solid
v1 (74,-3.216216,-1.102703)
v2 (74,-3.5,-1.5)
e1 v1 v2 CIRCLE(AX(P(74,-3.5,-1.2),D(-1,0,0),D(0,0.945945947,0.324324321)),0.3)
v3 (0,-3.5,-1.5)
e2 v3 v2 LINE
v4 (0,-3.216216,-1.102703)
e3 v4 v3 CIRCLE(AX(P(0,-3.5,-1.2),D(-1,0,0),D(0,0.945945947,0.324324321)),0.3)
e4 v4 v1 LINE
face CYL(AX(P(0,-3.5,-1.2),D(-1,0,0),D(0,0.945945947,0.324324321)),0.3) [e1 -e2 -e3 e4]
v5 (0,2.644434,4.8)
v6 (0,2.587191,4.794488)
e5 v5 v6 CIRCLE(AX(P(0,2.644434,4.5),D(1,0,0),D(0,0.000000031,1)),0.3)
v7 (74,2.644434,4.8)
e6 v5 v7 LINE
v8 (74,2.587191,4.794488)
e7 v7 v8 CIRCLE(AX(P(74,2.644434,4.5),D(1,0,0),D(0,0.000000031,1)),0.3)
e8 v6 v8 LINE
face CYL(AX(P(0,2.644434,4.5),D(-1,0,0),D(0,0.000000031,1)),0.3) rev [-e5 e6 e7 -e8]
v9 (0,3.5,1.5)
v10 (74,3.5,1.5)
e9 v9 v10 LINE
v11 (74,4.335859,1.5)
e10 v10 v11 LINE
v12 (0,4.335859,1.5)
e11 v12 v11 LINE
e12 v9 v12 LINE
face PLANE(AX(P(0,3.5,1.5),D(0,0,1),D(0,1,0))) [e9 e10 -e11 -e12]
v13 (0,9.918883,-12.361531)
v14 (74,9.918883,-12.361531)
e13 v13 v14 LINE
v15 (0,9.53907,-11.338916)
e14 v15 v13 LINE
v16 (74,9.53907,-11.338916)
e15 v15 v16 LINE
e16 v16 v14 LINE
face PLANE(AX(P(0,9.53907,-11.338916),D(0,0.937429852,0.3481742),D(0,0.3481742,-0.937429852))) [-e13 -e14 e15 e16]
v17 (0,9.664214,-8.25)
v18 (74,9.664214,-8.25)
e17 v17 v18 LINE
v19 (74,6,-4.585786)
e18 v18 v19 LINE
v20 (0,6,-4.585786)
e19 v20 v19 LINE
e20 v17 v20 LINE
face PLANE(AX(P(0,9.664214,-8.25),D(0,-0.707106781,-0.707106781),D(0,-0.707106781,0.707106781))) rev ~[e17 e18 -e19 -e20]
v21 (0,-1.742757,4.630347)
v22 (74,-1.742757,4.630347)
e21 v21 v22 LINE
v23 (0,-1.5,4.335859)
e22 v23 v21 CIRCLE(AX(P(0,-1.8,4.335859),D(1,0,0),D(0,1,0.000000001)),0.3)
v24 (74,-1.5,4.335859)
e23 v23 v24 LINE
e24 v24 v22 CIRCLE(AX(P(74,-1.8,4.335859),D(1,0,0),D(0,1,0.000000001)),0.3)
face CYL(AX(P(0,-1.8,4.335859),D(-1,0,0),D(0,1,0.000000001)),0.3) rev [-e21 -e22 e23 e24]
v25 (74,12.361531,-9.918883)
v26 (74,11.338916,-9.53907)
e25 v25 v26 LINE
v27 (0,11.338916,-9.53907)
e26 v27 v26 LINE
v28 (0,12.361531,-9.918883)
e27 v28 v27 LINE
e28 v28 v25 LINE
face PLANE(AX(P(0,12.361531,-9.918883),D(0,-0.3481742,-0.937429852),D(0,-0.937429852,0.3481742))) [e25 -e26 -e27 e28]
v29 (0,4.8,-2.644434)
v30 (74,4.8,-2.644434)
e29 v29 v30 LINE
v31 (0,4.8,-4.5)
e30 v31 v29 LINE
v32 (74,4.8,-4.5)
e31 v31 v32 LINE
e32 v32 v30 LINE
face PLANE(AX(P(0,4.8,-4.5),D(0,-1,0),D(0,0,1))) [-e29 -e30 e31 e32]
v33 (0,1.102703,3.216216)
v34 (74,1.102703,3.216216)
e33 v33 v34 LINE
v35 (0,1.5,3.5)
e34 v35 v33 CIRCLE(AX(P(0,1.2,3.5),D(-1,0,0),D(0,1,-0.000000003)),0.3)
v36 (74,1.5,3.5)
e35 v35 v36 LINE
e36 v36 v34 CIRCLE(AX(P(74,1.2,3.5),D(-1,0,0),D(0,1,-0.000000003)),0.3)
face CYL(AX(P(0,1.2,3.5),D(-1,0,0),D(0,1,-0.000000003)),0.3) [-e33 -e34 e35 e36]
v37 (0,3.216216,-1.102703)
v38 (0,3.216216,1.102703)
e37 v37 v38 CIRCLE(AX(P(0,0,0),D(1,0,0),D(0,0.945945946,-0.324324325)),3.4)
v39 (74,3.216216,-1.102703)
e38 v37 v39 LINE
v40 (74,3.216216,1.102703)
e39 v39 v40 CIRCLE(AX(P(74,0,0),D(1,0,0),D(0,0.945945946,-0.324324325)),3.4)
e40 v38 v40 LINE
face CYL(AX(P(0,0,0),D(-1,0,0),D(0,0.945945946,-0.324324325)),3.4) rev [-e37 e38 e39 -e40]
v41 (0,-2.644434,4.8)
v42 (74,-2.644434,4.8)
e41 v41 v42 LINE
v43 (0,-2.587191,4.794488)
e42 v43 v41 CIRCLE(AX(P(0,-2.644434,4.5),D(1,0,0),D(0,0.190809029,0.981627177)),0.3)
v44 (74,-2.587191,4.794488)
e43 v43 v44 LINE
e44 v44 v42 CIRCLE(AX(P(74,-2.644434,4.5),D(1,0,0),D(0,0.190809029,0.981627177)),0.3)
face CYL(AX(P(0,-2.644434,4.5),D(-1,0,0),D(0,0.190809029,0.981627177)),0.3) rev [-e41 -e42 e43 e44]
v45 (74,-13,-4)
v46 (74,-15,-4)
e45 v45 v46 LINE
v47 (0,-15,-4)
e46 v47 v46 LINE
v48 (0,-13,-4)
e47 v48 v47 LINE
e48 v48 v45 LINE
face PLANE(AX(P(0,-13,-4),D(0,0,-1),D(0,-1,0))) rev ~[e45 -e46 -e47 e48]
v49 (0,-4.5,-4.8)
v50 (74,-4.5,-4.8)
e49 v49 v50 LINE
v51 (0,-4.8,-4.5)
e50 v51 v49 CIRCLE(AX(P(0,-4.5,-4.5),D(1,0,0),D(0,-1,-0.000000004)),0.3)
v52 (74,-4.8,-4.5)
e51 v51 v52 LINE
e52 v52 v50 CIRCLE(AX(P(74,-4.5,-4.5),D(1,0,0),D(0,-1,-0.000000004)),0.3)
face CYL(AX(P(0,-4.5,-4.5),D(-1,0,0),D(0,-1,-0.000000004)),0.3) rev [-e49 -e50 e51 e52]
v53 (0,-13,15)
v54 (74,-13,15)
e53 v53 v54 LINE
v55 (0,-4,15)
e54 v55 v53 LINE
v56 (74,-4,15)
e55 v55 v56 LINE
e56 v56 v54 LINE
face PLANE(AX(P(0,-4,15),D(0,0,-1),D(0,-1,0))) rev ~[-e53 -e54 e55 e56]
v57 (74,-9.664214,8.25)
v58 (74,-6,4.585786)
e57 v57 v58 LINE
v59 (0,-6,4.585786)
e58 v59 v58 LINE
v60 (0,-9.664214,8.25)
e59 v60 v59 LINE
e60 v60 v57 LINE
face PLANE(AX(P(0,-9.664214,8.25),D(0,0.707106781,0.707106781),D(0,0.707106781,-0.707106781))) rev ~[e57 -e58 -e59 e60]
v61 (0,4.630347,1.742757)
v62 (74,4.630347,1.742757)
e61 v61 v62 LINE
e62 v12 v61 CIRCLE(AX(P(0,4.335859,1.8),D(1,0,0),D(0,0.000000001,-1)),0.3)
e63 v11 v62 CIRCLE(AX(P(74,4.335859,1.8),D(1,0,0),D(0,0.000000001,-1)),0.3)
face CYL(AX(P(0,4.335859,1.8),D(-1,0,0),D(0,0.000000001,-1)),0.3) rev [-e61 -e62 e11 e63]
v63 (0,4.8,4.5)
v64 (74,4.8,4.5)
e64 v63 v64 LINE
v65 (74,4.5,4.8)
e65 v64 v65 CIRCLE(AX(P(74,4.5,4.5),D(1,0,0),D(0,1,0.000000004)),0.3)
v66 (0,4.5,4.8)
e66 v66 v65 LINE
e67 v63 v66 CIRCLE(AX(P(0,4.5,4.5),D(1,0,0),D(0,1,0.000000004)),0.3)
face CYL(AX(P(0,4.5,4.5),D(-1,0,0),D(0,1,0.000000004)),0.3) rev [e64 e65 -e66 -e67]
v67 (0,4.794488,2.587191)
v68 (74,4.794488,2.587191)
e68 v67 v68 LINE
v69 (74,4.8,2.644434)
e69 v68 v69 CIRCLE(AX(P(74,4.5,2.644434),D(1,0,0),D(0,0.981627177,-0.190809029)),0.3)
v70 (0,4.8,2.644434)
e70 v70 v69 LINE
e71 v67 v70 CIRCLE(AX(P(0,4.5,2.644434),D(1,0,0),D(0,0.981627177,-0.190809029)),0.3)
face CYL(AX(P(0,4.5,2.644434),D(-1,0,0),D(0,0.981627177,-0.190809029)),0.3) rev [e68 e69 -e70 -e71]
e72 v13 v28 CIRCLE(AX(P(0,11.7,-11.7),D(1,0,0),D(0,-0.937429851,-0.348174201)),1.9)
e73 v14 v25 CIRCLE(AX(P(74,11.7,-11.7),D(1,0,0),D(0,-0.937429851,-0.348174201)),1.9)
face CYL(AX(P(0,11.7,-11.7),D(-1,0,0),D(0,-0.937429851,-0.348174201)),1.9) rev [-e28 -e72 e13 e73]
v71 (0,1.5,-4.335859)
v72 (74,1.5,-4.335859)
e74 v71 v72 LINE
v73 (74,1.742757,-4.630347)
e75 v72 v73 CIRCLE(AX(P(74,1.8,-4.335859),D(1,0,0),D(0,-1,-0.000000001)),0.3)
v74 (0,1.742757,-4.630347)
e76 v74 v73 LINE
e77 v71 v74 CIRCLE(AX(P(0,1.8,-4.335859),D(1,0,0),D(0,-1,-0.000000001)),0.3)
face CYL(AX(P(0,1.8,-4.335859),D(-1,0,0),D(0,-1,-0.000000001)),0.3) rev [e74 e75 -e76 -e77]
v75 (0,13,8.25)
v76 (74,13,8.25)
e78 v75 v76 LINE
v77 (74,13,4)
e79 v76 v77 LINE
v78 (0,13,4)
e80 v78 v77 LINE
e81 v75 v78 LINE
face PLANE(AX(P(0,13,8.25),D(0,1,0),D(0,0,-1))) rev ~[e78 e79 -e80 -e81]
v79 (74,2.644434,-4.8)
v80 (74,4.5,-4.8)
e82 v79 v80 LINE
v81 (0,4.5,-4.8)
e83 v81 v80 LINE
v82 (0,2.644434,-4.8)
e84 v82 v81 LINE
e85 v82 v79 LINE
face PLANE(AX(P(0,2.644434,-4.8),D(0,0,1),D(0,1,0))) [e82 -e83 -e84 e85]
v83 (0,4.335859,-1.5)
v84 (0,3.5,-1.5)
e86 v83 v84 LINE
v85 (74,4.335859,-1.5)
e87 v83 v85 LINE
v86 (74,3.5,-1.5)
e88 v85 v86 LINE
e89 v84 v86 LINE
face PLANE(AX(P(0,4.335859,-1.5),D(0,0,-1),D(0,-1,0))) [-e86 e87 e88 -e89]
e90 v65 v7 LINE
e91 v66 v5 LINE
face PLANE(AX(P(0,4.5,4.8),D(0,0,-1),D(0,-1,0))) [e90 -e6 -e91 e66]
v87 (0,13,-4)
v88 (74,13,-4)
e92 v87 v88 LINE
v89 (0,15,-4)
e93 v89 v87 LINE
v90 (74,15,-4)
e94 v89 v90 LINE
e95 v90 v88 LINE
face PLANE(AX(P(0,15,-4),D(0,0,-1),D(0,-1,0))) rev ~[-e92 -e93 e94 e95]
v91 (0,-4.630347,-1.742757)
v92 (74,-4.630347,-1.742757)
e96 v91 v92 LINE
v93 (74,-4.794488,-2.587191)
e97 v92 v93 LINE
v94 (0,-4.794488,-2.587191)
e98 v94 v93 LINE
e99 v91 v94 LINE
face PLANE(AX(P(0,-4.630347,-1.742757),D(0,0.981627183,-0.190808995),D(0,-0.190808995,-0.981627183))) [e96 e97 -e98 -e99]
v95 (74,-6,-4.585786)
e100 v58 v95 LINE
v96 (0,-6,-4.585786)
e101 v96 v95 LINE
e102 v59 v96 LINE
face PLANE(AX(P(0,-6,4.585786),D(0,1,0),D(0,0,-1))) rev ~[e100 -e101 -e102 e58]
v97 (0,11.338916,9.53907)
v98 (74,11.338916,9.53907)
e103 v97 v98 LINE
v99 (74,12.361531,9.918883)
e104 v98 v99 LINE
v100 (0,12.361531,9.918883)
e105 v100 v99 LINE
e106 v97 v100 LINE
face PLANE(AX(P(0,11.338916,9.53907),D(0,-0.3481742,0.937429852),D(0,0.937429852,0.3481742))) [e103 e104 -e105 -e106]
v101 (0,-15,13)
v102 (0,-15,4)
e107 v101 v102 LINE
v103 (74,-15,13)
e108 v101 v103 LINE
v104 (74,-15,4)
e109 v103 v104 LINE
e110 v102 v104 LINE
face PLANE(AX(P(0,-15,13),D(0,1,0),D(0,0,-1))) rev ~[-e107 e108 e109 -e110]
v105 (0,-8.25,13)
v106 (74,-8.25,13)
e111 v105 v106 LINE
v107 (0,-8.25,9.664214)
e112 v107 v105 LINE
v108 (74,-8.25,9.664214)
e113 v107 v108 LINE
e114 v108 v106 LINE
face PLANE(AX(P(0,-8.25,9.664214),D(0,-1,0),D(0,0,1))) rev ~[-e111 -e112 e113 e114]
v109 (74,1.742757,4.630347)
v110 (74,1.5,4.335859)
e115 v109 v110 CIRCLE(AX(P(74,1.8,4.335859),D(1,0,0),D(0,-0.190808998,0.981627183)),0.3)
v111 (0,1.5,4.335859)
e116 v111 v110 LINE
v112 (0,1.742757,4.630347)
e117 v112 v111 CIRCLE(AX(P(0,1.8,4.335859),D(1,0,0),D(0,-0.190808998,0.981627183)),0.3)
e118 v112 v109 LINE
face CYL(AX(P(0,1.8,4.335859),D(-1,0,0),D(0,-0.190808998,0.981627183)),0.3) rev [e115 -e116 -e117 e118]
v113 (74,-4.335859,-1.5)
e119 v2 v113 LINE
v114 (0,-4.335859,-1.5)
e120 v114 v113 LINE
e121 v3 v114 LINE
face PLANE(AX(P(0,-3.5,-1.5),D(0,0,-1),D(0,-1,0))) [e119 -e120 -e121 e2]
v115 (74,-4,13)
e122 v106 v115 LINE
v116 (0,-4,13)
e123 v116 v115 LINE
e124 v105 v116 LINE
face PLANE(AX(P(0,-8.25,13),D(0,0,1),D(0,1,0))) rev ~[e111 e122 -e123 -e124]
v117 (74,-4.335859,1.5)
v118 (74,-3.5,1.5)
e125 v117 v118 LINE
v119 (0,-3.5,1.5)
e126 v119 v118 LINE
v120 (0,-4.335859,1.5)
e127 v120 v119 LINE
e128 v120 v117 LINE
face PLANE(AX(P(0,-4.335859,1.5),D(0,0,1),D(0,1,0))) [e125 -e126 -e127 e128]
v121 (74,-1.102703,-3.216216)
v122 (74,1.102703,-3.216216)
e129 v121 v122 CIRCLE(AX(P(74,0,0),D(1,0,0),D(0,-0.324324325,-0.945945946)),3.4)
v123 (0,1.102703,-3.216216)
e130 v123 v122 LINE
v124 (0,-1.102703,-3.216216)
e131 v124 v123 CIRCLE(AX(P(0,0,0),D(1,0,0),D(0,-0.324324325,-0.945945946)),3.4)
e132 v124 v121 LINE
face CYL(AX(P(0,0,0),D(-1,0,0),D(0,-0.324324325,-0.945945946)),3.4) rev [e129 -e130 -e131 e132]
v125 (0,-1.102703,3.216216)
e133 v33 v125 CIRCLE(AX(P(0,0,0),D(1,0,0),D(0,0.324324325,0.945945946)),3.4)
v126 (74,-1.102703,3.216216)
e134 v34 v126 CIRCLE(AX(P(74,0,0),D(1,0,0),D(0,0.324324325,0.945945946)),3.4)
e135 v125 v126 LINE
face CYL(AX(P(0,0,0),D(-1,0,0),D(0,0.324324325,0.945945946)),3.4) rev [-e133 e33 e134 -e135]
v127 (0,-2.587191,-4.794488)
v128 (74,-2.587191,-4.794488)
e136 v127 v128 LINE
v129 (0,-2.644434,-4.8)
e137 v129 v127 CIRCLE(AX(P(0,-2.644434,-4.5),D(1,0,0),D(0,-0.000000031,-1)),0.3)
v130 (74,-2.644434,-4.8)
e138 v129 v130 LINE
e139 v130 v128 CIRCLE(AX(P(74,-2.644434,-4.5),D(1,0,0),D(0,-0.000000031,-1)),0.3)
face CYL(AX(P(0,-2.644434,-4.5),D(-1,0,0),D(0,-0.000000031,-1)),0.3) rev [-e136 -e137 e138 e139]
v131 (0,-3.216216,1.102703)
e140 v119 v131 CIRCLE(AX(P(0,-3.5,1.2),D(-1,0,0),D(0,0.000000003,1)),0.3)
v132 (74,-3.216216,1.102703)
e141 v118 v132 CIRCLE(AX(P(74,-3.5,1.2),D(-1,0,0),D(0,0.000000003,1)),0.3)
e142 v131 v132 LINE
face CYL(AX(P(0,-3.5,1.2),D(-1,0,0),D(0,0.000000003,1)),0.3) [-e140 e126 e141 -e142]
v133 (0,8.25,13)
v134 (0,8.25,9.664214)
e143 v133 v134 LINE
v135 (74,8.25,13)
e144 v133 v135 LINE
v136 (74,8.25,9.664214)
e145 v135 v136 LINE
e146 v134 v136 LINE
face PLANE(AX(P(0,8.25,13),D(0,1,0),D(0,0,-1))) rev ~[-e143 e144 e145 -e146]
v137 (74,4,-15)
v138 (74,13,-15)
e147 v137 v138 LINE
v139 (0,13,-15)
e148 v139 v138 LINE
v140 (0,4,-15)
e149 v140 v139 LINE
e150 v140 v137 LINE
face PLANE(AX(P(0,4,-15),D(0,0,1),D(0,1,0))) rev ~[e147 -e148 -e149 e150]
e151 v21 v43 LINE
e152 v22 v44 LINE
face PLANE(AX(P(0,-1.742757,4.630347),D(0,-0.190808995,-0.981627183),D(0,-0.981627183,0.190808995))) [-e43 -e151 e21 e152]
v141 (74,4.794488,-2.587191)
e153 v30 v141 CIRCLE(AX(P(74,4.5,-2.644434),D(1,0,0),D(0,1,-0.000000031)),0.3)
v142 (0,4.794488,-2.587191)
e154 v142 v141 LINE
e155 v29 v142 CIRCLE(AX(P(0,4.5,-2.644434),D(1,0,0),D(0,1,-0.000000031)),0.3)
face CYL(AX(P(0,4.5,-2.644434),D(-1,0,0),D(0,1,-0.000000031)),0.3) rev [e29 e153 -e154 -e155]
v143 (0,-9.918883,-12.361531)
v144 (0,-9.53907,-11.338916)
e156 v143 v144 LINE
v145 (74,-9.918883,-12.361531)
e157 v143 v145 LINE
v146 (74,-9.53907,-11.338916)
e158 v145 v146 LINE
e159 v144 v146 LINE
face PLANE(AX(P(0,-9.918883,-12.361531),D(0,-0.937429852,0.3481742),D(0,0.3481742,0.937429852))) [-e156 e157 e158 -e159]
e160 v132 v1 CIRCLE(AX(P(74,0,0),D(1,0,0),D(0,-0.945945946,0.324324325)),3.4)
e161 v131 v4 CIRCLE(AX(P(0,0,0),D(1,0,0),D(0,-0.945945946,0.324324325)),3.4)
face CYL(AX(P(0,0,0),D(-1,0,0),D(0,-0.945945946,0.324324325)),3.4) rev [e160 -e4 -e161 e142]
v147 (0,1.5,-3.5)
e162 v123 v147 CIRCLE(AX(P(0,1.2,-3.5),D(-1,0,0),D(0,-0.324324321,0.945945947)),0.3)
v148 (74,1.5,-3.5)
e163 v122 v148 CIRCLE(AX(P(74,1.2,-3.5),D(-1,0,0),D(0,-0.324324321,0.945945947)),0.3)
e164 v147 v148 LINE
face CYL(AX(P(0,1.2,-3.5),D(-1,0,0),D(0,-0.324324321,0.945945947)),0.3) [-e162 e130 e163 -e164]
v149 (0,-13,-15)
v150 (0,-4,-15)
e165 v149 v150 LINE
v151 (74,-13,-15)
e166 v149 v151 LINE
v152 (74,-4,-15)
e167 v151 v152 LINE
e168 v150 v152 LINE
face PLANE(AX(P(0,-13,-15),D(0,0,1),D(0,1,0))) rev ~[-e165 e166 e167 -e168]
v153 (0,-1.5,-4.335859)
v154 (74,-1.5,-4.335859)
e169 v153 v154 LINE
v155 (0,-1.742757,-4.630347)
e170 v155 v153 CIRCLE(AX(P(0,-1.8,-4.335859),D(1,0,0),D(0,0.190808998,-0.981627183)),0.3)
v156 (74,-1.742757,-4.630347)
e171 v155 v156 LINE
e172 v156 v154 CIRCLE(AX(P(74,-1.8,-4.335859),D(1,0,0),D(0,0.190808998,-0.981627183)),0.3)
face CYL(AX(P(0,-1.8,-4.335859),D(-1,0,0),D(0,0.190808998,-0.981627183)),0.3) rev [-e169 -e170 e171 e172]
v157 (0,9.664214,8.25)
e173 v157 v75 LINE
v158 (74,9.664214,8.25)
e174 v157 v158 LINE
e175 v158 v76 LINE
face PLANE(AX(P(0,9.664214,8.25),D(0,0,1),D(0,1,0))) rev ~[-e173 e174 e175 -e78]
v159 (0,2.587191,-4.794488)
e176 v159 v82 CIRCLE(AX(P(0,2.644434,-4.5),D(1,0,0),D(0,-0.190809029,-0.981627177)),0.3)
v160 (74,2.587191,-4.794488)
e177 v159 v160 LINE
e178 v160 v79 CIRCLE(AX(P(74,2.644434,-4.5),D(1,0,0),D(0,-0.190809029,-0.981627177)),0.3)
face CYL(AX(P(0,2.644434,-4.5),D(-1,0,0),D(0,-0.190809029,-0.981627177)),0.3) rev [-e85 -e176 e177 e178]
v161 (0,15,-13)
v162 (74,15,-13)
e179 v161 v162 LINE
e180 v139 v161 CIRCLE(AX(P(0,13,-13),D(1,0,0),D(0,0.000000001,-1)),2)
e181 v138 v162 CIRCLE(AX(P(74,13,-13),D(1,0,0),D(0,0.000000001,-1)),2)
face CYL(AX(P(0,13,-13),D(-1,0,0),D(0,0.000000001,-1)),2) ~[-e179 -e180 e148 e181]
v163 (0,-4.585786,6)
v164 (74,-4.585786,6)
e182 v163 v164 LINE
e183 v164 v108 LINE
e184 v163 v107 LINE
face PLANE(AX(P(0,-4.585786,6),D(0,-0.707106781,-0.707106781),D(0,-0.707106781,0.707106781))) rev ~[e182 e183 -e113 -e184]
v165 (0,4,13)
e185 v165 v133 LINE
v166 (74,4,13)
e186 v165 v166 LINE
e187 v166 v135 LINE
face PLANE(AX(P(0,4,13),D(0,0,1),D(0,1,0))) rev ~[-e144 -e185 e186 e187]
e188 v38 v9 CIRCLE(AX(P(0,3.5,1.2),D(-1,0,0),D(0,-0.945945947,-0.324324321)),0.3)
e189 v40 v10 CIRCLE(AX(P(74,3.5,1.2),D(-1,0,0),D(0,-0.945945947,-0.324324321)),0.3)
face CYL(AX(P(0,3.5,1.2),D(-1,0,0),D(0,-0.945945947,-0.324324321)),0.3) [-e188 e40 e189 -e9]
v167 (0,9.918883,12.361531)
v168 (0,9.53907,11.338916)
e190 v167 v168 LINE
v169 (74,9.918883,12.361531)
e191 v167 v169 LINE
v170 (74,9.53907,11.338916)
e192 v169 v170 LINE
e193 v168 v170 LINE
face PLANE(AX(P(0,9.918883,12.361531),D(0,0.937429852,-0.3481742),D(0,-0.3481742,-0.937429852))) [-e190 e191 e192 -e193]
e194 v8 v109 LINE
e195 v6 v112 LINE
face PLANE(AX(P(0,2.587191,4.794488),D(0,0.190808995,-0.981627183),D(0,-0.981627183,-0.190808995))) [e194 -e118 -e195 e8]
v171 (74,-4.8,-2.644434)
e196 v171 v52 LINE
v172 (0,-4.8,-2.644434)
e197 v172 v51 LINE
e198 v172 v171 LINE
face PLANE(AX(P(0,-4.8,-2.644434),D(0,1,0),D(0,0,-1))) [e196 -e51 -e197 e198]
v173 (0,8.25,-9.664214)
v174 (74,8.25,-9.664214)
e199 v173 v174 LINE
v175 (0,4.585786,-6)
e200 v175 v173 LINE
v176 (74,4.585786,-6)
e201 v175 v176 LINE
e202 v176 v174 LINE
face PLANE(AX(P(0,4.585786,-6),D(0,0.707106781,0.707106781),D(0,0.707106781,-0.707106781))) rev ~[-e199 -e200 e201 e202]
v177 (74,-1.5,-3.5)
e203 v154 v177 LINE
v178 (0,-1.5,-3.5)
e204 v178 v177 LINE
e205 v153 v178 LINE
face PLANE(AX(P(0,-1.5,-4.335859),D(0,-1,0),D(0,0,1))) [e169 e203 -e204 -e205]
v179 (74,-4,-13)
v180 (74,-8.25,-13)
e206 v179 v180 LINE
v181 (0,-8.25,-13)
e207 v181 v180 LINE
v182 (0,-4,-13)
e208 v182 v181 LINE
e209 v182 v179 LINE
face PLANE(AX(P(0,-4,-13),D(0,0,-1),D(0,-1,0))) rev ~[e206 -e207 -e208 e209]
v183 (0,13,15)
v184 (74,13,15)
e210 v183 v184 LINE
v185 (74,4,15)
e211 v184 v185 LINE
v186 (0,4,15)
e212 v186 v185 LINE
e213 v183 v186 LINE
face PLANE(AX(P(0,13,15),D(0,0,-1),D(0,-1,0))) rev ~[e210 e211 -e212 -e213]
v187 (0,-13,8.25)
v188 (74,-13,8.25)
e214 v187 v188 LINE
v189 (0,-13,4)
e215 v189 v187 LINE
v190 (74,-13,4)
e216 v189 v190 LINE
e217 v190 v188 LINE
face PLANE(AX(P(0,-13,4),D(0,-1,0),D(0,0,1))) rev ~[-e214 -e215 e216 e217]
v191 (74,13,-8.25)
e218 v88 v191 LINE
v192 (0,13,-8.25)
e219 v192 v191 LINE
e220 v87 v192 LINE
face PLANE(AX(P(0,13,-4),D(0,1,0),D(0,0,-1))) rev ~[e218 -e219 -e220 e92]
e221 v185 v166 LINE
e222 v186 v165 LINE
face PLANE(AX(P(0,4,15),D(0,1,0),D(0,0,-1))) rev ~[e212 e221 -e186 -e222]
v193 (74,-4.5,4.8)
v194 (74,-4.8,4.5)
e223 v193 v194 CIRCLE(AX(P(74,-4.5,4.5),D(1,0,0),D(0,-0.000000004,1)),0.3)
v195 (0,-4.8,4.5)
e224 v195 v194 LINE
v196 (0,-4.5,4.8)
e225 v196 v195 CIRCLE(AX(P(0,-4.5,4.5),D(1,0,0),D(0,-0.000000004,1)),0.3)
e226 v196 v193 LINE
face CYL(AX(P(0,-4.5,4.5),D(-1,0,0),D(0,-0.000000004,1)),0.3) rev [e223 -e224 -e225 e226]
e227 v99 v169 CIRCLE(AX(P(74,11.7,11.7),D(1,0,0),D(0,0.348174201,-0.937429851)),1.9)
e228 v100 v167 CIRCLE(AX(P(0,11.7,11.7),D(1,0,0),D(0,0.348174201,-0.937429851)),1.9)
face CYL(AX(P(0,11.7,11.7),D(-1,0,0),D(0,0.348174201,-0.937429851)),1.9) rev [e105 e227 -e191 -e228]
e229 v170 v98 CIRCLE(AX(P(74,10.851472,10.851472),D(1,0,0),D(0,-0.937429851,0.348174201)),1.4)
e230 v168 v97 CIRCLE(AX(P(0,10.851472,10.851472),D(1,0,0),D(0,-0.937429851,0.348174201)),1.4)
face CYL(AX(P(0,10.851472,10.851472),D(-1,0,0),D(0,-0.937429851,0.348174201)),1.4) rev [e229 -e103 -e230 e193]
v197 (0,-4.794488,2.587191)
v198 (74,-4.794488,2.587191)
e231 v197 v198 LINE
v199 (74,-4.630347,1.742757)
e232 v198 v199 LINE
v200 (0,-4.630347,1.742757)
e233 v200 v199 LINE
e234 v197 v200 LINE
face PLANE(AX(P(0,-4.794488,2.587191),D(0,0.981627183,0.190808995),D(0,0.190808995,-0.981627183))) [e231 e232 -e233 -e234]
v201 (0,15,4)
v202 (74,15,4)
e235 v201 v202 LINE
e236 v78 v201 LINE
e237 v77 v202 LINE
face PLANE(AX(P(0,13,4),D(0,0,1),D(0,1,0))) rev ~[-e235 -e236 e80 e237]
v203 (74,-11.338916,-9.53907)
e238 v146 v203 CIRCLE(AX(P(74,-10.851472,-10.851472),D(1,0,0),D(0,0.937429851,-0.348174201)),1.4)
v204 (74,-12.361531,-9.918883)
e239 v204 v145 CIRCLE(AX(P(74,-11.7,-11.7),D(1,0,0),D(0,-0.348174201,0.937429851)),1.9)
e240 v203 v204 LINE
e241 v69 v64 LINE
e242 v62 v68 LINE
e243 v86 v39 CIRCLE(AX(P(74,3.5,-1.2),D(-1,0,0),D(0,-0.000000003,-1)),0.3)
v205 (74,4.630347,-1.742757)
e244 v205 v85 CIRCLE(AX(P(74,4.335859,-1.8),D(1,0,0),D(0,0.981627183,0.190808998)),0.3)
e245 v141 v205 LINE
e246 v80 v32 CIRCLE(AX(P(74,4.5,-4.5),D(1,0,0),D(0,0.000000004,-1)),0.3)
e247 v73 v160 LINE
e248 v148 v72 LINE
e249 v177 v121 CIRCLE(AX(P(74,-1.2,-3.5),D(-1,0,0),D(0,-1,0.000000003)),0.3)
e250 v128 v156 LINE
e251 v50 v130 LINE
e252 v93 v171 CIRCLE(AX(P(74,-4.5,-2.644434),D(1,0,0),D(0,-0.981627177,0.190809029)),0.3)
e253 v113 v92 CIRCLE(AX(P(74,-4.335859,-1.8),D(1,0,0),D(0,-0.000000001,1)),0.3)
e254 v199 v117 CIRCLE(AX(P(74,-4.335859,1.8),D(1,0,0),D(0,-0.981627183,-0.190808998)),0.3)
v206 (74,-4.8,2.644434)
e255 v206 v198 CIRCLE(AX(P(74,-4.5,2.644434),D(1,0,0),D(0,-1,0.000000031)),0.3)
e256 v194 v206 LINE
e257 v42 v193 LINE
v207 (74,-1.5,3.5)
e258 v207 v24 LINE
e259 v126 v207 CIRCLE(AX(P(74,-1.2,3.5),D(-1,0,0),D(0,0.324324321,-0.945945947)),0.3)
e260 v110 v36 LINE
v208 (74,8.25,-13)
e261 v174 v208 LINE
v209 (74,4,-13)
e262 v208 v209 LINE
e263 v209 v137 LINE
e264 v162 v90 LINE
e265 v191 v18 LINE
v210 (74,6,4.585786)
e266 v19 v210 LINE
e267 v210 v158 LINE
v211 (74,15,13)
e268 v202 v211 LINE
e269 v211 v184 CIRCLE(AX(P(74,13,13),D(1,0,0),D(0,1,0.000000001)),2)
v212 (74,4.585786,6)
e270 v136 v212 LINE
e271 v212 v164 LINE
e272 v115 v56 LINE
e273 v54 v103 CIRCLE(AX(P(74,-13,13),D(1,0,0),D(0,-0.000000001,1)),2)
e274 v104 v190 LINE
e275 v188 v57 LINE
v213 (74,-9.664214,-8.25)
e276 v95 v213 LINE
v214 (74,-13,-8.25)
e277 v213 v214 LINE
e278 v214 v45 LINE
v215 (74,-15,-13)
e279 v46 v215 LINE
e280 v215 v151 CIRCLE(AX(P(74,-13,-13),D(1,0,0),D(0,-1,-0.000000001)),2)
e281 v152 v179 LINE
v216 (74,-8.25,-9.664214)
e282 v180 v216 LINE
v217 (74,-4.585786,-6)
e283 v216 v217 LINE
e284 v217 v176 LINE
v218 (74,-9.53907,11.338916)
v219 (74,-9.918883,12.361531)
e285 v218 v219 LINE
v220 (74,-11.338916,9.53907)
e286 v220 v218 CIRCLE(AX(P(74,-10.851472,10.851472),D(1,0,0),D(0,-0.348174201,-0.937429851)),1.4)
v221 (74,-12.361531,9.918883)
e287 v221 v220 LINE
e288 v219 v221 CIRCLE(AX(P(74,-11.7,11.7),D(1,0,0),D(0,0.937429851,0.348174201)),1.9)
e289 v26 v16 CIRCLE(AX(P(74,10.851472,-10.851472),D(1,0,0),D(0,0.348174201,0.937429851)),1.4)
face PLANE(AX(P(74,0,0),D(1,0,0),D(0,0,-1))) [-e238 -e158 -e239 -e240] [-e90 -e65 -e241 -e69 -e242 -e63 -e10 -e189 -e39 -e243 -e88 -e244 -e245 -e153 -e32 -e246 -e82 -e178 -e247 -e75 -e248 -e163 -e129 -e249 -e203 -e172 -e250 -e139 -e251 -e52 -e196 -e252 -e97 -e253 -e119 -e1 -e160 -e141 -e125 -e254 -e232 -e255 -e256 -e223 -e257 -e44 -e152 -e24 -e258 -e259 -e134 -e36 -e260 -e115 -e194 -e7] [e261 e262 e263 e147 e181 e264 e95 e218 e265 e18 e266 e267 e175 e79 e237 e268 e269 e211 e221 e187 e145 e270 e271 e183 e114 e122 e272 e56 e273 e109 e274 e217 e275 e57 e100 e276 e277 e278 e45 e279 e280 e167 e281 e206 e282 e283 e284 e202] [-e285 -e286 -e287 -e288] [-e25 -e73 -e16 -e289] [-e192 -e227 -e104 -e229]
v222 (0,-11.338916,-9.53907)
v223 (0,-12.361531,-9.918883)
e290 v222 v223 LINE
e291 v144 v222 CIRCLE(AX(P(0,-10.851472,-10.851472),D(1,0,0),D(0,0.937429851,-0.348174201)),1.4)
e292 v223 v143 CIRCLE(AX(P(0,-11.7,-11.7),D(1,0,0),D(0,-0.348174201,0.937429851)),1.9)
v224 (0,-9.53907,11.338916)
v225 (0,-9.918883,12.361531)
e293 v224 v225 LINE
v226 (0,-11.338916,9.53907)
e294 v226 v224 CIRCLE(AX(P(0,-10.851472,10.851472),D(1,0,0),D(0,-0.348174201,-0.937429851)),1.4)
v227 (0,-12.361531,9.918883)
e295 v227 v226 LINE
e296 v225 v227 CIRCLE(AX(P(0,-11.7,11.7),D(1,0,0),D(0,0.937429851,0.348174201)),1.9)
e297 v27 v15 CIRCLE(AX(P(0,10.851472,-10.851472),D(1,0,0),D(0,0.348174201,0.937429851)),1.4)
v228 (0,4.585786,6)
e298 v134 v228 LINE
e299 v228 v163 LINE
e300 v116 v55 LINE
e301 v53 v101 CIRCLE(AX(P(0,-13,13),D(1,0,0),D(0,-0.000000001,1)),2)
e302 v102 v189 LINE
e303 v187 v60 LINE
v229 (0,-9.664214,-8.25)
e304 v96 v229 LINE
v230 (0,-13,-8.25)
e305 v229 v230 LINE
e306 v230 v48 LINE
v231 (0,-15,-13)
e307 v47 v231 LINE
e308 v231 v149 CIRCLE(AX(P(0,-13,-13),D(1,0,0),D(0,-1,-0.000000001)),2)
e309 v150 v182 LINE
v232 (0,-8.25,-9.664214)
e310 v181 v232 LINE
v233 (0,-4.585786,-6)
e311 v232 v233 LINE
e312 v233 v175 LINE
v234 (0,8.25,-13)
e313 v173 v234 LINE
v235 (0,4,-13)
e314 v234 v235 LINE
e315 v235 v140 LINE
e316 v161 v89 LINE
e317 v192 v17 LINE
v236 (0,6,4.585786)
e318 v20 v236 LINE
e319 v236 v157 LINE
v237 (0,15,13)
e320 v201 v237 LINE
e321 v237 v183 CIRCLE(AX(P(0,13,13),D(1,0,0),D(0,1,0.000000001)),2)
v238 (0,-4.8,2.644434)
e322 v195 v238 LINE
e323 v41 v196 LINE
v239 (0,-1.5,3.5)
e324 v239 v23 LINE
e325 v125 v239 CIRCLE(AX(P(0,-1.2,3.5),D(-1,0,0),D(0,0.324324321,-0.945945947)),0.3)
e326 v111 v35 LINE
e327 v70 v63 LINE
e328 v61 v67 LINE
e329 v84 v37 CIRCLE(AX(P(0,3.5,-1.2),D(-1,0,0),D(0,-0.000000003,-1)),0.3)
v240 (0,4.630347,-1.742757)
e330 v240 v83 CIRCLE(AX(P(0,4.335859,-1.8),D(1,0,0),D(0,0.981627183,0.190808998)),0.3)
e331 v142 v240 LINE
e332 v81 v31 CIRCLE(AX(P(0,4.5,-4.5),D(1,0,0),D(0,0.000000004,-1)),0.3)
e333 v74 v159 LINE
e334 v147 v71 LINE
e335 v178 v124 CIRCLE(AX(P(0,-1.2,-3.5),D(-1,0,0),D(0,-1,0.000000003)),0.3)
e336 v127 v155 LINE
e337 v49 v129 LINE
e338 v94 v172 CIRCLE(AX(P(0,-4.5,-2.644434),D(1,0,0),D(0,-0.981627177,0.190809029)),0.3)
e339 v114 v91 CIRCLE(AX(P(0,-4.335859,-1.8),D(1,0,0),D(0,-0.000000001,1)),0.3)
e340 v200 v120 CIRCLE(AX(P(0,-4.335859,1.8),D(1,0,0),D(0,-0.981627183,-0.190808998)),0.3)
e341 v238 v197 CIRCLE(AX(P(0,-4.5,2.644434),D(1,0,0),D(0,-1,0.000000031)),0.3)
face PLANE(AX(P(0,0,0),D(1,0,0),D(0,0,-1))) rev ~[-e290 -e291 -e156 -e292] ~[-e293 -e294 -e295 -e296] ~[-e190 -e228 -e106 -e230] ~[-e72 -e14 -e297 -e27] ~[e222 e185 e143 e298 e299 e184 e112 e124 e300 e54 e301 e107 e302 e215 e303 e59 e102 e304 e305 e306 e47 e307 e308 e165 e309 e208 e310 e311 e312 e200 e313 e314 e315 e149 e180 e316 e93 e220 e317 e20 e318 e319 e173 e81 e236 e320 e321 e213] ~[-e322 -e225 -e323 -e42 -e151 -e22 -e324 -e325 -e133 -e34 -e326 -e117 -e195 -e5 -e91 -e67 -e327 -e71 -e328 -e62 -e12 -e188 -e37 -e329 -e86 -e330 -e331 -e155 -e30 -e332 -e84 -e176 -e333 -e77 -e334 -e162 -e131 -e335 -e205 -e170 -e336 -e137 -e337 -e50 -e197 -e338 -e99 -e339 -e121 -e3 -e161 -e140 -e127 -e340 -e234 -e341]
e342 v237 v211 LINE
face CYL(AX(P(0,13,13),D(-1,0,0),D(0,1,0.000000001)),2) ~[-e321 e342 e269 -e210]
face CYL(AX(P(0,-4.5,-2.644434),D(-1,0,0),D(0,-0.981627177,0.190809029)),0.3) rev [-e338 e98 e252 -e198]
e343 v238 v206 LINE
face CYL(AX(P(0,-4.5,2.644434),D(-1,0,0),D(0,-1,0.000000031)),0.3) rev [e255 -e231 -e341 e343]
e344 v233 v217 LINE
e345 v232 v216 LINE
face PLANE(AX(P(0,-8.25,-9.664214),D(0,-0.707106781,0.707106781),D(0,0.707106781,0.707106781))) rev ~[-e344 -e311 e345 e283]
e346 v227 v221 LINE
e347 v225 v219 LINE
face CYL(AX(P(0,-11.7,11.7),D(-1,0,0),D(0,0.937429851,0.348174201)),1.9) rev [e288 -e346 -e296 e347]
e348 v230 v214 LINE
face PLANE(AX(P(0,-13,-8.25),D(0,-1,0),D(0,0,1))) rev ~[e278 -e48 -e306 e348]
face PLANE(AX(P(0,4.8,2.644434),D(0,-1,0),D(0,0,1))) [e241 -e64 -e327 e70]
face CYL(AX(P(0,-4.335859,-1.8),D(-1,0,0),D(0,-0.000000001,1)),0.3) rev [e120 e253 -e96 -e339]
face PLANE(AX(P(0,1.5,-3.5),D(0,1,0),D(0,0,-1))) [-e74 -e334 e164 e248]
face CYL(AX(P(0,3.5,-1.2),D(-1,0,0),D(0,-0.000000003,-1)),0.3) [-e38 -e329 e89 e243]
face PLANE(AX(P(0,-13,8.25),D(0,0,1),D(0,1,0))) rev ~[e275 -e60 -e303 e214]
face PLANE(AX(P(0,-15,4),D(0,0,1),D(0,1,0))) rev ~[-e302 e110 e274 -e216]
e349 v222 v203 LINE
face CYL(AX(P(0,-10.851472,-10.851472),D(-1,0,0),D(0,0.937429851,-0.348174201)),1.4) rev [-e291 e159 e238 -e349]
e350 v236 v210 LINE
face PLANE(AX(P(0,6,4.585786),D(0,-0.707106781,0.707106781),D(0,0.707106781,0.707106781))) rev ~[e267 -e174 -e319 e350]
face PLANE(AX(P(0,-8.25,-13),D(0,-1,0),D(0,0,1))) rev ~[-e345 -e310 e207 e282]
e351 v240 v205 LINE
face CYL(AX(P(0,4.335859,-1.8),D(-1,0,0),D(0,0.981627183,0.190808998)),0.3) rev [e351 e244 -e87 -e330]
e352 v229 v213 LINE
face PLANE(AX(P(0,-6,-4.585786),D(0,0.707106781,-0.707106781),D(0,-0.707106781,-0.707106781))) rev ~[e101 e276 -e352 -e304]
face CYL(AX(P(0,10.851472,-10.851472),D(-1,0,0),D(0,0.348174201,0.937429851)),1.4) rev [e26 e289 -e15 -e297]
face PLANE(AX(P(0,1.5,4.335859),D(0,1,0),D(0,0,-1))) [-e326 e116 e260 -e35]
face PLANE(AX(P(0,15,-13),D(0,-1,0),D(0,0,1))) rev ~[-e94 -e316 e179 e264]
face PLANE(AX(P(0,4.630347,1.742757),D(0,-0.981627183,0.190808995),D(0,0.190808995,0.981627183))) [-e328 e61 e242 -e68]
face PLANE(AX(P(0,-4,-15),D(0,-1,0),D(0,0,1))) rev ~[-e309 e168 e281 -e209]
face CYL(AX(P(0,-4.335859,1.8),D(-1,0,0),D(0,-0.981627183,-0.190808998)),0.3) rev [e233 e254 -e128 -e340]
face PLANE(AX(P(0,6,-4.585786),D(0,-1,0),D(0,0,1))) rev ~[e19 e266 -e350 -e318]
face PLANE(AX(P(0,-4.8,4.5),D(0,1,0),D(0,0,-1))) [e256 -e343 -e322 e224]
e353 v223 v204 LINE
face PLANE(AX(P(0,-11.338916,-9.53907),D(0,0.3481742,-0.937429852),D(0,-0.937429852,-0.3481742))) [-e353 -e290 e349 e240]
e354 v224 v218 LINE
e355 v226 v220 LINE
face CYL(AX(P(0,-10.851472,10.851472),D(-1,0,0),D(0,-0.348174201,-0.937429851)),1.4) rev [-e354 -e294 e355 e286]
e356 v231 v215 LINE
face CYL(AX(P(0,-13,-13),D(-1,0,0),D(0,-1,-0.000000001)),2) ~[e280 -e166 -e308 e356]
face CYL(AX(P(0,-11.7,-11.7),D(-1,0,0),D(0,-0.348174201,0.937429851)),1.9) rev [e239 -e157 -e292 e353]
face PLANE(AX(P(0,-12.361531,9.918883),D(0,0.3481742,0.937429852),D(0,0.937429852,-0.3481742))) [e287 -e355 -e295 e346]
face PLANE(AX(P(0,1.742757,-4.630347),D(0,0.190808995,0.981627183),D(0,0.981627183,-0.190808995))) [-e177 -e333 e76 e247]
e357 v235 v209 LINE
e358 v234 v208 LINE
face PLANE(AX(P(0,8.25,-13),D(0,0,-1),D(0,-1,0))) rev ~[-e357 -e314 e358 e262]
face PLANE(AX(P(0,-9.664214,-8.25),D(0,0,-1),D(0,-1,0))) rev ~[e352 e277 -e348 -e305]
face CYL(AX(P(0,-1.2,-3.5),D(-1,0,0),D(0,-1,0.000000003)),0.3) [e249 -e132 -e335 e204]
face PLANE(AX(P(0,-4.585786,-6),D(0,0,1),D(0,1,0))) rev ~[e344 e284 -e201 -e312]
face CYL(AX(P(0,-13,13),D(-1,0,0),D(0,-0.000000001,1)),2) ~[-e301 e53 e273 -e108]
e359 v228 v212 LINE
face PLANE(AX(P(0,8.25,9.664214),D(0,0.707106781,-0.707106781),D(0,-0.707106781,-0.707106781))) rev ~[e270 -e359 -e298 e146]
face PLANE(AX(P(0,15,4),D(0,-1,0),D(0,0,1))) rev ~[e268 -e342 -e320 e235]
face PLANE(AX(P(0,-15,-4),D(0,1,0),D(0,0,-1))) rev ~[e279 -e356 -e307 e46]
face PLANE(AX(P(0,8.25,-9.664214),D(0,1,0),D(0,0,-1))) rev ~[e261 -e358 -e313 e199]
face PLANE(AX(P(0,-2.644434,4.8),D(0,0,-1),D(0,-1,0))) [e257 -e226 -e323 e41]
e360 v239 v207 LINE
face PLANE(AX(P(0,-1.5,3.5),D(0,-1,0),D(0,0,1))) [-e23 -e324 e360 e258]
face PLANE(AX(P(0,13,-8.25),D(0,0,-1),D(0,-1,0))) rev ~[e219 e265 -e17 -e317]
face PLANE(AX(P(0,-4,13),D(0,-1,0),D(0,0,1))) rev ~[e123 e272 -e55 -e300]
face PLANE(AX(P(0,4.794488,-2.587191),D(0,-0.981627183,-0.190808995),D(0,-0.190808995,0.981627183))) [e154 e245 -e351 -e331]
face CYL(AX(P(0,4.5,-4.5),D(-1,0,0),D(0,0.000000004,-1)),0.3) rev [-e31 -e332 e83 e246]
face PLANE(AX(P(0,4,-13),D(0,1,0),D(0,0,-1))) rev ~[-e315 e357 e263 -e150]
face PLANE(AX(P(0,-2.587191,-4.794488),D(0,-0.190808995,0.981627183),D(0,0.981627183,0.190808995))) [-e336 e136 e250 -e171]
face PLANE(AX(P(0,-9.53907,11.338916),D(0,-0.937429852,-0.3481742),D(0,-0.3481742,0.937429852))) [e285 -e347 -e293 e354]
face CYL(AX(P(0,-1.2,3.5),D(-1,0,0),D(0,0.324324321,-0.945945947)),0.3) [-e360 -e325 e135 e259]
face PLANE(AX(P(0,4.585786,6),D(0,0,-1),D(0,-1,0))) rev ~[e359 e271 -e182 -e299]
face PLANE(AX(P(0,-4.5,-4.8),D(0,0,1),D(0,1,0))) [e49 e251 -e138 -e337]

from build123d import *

# Parameters (mm, degrees)
BOSS_EXTRUDE1_DEPTH = 74


with BuildPart() as part:
    # Sketch1 → Boss-Extrude1 (new body)
    with BuildSketch(Plane(origin=(0, 0, 0), x_dir=(0, 0, -1), z_dir=(1, 0, 0))):
        with BuildLine():
            Line((-15, 13), (-15, 4))
            Line((-15, 4), (-13, 4))
            Line((-13, 4), (-13, 8.25))
            Line((-13, 8.25), (-9.664213562, 8.25))
            Line((-9.664213562, 8.25), (-6, 4.585786438))
            Line((-6, 4.585786438), (-6, -4.585786438))
            Line((-6, -4.585786438), (-9.664213562, -8.25))
            Line((-9.664213562, -8.25), (-13, -8.25))
            Line((-13, -8.25), (-13, -4))
            Line((-13, -4), (-15, -4))
            Line((-15, -4), (-15, -13))
            ThreePointArc((-15, -13), (-14.414213562, -14.414213562), (-13, -15))
            Line((-13, -15), (-4, -15))
            Line((-4, -15), (-4, -13))
            Line((-4, -13), (-8.25, -13))
            Line((-8.25, -13), (-8.25, -9.664213562))
            Line((-8.25, -9.664213562), (-4.585786438, -6))
            Line((-4.585786438, -6), (4.585786438, -6))
            Line((4.585786438, -6), (8.25, -9.664213562))
            Line((8.25, -9.664213562), (8.25, -13))
            Line((8.25, -13), (4, -13))
            Line((4, -13), (4, -15))
            Line((4, -15), (13, -15))
            ThreePointArc((13, -15), (14.414213562, -14.414213562), (15, -13))
            Line((15, -13), (15, -4))
            Line((15, -4), (13, -4))
            Line((13, -4), (13, -8.25))
            Line((13, -8.25), (9.664213562, -8.25))
            Line((9.664213562, -8.25), (6, -4.585786438))
            Line((6, -4.585786438), (6, 4.585786438))
            Line((6, 4.585786438), (9.664213562, 8.25))
            Line((9.664213562, 8.25), (13, 8.25))
            Line((13, 8.25), (13, 4))
            Line((13, 4), (15, 4))
            Line((15, 4), (15, 13))
            ThreePointArc((15, 13), (14.414213562, 14.414213562), (13, 15))
            Line((13, 15), (4, 15))
            Line((4, 15), (4, 13))
            Line((4, 13), (8.25, 13))
            Line((8.25, 13), (8.25, 9.664213562))
            Line((8.25, 9.664213562), (4.585786438, 6))
            Line((4.585786438, 6), (-4.585786438, 6))
            Line((-4.585786438, 6), (-8.25, 9.664213562))
            Line((-8.25, 9.664213562), (-8.25, 13))
            Line((-8.25, 13), (-4, 13))
            Line((-4, 13), (-4, 15))
            Line((-4, 15), (-13, 15))
            ThreePointArc((-13, 15), (-14.414213562, 14.414213562), (-15, 13))
        make_face()
        with BuildLine():
            Line((-9.539070071, 11.338915743), (-9.918883282, 12.361530981))
            ThreePointArc((-9.918883282, 12.361530981), (-13.043502884, 13.043502884), (-12.361530981, 9.918883282))
            Line((-12.361530981, 9.918883282), (-11.338915743, 9.539070071))
            ThreePointArc((-11.338915743, 9.539070071), (-9.861522369, 9.861522369), (-9.539070071, 11.338915743))
        make_face(mode=Mode.SUBTRACT)
        with BuildLine():
            Line((9.918883282, 12.361530981), (9.539070071, 11.338915743))
            ThreePointArc((9.539070071, 11.338915743), (9.861522369, 9.861522369), (11.338915743, 9.539070071))
            Line((11.338915743, 9.539070071), (12.361530981, 9.918883282))
            ThreePointArc((12.361530981, 9.918883282), (13.043502884, 13.043502884), (9.918883282, 12.361530981))
        make_face(mode=Mode.SUBTRACT)
        with BuildLine():
            Line((12.361530981, -9.918883282), (11.338915743, -9.539070071))
            ThreePointArc((11.338915743, -9.539070071), (9.861522369, -9.861522369), (9.539070071, -11.338915743))
            Line((9.539070071, -11.338915743), (9.918883282, -12.361530981))
            ThreePointArc((9.918883282, -12.361530981), (13.043502884, -13.043502884), (12.361530981, -9.918883282))
        make_face(mode=Mode.SUBTRACT)
        with BuildLine():
            Line((-11.338915743, -9.539070071), (-12.361530981, -9.918883282))
            ThreePointArc((-12.361530981, -9.918883282), (-13.043502884, -13.043502884), (-9.918883282, -12.361530981))
            Line((-9.918883282, -12.361530981), (-9.539070071, -11.338915743))
            ThreePointArc((-9.539070071, -11.338915743), (-9.861522369, -9.861522369), (-11.338915743, -9.539070071))
        make_face(mode=Mode.SUBTRACT)
        with BuildLine():
            Line((-4.8, -2.644433572), (-4.8, -4.5))
            ThreePointArc((-4.8, -4.5), (-4.712132034, -4.712132034), (-4.5, -4.8))
            Line((-4.5, -4.8), (-2.644433572, -4.8))
            ThreePointArc((-2.644433572, -4.8), (-2.615679847, -4.79861886), (-2.587190874, -4.794488155))
            Line((-2.587190874, -4.794488155), (-1.742757301, -4.630346896))
            ThreePointArc((-1.742757301, -4.630346896), (-1.568512625, -4.526682207), (-1.5, -4.335858741))
            Line((-1.5, -4.335858741), (-1.5, -3.5))
            ThreePointArc((-1.5, -3.5), (-1.374371458, -3.255879959), (-1.102702703, -3.216216216))
            ThreePointArc((-1.102702703, -3.216216216), (0, -3.4), (1.102702703, -3.216216216))
            ThreePointArc((1.102702703, -3.216216216), (1.374371458, -3.255879959), (1.5, -3.5))
            Line((1.5, -3.5), (1.5, -4.335858741))
            ThreePointArc((1.5, -4.335858741), (1.568512625, -4.526682207), (1.742757301, -4.630346896))
            Line((1.742757301, -4.630346896), (2.587190874, -4.794488155))
            ThreePointArc((2.587190874, -4.794488155), (2.615679847, -4.79861886), (2.644433572, -4.8))
            Line((2.644433572, -4.8), (4.5, -4.8))
            ThreePointArc((4.5, -4.8), (4.712132034, -4.712132034), (4.8, -4.5))
            Line((4.8, -4.5), (4.8, -2.644433572))
            ThreePointArc((4.8, -2.644433572), (4.79861886, -2.615679847), (4.794488155, -2.587190874))
            Line((4.794488155, -2.587190874), (4.630346896, -1.742757301))
            ThreePointArc((4.630346896, -1.742757301), (4.526682207, -1.568512625), (4.335858741, -1.5))
            Line((4.335858741, -1.5), (3.5, -1.5))
            ThreePointArc((3.5, -1.5), (3.255879959, -1.374371458), (3.216216216, -1.102702703))
            ThreePointArc((3.216216216, -1.102702703), (3.4, 0), (3.216216216, 1.102702703))
            ThreePointArc((3.216216216, 1.102702703), (3.255879959, 1.374371458), (3.5, 1.5))
            Line((3.5, 1.5), (4.335858741, 1.5))
            ThreePointArc((4.335858741, 1.5), (4.526682207, 1.568512625), (4.630346896, 1.742757301))
            Line((4.630346896, 1.742757301), (4.794488155, 2.587190874))
            ThreePointArc((4.794488155, 2.587190874), (4.79861886, 2.615679847), (4.8, 2.644433572))
            Line((4.8, 2.644433572), (4.8, 4.5))
            ThreePointArc((4.8, 4.5), (4.712132034, 4.712132034), (4.5, 4.8))
            Line((4.5, 4.8), (2.644433572, 4.8))
            ThreePointArc((2.644433572, 4.8), (2.615679847, 4.79861886), (2.587190874, 4.794488155))
            Line((2.587190874, 4.794488155), (1.742757301, 4.630346896))
            ThreePointArc((1.742757301, 4.630346896), (1.568512625, 4.526682207), (1.5, 4.335858741))
            Line((1.5, 4.335858741), (1.5, 3.5))
            ThreePointArc((1.5, 3.5), (1.374371458, 3.255879959), (1.102702703, 3.216216216))
            ThreePointArc((1.102702703, 3.216216216), (0, 3.4), (-1.102702703, 3.216216216))
            ThreePointArc((-1.102702703, 3.216216216), (-1.374371458, 3.255879959), (-1.5, 3.5))
            Line((-1.5, 3.5), (-1.5, 4.335858741))
            ThreePointArc((-1.5, 4.335858741), (-1.568512625, 4.526682207), (-1.742757301, 4.630346896))
            Line((-1.742757301, 4.630346896), (-2.587190874, 4.794488155))
            ThreePointArc((-2.587190874, 4.794488155), (-2.615679847, 4.79861886), (-2.644433572, 4.8))
            Line((-2.644433572, 4.8), (-4.5, 4.8))
            ThreePointArc((-4.5, 4.8), (-4.712132034, 4.712132034), (-4.8, 4.5))
            Line((-4.8, 4.5), (-4.8, 2.644433572))
            ThreePointArc((-4.8, 2.644433572), (-4.79861886, 2.615679847), (-4.794488155, 2.587190874))
            Line((-4.794488155, 2.587190874), (-4.630346896, 1.742757301))
            ThreePointArc((-4.630346896, 1.742757301), (-4.526682207, 1.568512625), (-4.335858741, 1.5))
            Line((-4.335858741, 1.5), (-3.5, 1.5))
            ThreePointArc((-3.5, 1.5), (-3.255879959, 1.374371458), (-3.216216216, 1.102702703))
            ThreePointArc((-3.216216216, 1.102702703), (-3.4, 0), (-3.216216216, -1.102702703))
            ThreePointArc((-3.216216216, -1.102702703), (-3.255879959, -1.374371458), (-3.5, -1.5))
            Line((-3.5, -1.5), (-4.335858741, -1.5))
            ThreePointArc((-4.335858741, -1.5), (-4.526682207, -1.568512625), (-4.630346896, -1.742757301))
            Line((-4.630346896, -1.742757301), (-4.794488155, -2.587190874))
            ThreePointArc((-4.794488155, -2.587190874), (-4.79861886, -2.615679847), (-4.8, -2.644433572))
        make_face(mode=Mode.SUBTRACT)
    extrude(amount=BOSS_EXTRUDE1_DEPTH)


solid = part.part
